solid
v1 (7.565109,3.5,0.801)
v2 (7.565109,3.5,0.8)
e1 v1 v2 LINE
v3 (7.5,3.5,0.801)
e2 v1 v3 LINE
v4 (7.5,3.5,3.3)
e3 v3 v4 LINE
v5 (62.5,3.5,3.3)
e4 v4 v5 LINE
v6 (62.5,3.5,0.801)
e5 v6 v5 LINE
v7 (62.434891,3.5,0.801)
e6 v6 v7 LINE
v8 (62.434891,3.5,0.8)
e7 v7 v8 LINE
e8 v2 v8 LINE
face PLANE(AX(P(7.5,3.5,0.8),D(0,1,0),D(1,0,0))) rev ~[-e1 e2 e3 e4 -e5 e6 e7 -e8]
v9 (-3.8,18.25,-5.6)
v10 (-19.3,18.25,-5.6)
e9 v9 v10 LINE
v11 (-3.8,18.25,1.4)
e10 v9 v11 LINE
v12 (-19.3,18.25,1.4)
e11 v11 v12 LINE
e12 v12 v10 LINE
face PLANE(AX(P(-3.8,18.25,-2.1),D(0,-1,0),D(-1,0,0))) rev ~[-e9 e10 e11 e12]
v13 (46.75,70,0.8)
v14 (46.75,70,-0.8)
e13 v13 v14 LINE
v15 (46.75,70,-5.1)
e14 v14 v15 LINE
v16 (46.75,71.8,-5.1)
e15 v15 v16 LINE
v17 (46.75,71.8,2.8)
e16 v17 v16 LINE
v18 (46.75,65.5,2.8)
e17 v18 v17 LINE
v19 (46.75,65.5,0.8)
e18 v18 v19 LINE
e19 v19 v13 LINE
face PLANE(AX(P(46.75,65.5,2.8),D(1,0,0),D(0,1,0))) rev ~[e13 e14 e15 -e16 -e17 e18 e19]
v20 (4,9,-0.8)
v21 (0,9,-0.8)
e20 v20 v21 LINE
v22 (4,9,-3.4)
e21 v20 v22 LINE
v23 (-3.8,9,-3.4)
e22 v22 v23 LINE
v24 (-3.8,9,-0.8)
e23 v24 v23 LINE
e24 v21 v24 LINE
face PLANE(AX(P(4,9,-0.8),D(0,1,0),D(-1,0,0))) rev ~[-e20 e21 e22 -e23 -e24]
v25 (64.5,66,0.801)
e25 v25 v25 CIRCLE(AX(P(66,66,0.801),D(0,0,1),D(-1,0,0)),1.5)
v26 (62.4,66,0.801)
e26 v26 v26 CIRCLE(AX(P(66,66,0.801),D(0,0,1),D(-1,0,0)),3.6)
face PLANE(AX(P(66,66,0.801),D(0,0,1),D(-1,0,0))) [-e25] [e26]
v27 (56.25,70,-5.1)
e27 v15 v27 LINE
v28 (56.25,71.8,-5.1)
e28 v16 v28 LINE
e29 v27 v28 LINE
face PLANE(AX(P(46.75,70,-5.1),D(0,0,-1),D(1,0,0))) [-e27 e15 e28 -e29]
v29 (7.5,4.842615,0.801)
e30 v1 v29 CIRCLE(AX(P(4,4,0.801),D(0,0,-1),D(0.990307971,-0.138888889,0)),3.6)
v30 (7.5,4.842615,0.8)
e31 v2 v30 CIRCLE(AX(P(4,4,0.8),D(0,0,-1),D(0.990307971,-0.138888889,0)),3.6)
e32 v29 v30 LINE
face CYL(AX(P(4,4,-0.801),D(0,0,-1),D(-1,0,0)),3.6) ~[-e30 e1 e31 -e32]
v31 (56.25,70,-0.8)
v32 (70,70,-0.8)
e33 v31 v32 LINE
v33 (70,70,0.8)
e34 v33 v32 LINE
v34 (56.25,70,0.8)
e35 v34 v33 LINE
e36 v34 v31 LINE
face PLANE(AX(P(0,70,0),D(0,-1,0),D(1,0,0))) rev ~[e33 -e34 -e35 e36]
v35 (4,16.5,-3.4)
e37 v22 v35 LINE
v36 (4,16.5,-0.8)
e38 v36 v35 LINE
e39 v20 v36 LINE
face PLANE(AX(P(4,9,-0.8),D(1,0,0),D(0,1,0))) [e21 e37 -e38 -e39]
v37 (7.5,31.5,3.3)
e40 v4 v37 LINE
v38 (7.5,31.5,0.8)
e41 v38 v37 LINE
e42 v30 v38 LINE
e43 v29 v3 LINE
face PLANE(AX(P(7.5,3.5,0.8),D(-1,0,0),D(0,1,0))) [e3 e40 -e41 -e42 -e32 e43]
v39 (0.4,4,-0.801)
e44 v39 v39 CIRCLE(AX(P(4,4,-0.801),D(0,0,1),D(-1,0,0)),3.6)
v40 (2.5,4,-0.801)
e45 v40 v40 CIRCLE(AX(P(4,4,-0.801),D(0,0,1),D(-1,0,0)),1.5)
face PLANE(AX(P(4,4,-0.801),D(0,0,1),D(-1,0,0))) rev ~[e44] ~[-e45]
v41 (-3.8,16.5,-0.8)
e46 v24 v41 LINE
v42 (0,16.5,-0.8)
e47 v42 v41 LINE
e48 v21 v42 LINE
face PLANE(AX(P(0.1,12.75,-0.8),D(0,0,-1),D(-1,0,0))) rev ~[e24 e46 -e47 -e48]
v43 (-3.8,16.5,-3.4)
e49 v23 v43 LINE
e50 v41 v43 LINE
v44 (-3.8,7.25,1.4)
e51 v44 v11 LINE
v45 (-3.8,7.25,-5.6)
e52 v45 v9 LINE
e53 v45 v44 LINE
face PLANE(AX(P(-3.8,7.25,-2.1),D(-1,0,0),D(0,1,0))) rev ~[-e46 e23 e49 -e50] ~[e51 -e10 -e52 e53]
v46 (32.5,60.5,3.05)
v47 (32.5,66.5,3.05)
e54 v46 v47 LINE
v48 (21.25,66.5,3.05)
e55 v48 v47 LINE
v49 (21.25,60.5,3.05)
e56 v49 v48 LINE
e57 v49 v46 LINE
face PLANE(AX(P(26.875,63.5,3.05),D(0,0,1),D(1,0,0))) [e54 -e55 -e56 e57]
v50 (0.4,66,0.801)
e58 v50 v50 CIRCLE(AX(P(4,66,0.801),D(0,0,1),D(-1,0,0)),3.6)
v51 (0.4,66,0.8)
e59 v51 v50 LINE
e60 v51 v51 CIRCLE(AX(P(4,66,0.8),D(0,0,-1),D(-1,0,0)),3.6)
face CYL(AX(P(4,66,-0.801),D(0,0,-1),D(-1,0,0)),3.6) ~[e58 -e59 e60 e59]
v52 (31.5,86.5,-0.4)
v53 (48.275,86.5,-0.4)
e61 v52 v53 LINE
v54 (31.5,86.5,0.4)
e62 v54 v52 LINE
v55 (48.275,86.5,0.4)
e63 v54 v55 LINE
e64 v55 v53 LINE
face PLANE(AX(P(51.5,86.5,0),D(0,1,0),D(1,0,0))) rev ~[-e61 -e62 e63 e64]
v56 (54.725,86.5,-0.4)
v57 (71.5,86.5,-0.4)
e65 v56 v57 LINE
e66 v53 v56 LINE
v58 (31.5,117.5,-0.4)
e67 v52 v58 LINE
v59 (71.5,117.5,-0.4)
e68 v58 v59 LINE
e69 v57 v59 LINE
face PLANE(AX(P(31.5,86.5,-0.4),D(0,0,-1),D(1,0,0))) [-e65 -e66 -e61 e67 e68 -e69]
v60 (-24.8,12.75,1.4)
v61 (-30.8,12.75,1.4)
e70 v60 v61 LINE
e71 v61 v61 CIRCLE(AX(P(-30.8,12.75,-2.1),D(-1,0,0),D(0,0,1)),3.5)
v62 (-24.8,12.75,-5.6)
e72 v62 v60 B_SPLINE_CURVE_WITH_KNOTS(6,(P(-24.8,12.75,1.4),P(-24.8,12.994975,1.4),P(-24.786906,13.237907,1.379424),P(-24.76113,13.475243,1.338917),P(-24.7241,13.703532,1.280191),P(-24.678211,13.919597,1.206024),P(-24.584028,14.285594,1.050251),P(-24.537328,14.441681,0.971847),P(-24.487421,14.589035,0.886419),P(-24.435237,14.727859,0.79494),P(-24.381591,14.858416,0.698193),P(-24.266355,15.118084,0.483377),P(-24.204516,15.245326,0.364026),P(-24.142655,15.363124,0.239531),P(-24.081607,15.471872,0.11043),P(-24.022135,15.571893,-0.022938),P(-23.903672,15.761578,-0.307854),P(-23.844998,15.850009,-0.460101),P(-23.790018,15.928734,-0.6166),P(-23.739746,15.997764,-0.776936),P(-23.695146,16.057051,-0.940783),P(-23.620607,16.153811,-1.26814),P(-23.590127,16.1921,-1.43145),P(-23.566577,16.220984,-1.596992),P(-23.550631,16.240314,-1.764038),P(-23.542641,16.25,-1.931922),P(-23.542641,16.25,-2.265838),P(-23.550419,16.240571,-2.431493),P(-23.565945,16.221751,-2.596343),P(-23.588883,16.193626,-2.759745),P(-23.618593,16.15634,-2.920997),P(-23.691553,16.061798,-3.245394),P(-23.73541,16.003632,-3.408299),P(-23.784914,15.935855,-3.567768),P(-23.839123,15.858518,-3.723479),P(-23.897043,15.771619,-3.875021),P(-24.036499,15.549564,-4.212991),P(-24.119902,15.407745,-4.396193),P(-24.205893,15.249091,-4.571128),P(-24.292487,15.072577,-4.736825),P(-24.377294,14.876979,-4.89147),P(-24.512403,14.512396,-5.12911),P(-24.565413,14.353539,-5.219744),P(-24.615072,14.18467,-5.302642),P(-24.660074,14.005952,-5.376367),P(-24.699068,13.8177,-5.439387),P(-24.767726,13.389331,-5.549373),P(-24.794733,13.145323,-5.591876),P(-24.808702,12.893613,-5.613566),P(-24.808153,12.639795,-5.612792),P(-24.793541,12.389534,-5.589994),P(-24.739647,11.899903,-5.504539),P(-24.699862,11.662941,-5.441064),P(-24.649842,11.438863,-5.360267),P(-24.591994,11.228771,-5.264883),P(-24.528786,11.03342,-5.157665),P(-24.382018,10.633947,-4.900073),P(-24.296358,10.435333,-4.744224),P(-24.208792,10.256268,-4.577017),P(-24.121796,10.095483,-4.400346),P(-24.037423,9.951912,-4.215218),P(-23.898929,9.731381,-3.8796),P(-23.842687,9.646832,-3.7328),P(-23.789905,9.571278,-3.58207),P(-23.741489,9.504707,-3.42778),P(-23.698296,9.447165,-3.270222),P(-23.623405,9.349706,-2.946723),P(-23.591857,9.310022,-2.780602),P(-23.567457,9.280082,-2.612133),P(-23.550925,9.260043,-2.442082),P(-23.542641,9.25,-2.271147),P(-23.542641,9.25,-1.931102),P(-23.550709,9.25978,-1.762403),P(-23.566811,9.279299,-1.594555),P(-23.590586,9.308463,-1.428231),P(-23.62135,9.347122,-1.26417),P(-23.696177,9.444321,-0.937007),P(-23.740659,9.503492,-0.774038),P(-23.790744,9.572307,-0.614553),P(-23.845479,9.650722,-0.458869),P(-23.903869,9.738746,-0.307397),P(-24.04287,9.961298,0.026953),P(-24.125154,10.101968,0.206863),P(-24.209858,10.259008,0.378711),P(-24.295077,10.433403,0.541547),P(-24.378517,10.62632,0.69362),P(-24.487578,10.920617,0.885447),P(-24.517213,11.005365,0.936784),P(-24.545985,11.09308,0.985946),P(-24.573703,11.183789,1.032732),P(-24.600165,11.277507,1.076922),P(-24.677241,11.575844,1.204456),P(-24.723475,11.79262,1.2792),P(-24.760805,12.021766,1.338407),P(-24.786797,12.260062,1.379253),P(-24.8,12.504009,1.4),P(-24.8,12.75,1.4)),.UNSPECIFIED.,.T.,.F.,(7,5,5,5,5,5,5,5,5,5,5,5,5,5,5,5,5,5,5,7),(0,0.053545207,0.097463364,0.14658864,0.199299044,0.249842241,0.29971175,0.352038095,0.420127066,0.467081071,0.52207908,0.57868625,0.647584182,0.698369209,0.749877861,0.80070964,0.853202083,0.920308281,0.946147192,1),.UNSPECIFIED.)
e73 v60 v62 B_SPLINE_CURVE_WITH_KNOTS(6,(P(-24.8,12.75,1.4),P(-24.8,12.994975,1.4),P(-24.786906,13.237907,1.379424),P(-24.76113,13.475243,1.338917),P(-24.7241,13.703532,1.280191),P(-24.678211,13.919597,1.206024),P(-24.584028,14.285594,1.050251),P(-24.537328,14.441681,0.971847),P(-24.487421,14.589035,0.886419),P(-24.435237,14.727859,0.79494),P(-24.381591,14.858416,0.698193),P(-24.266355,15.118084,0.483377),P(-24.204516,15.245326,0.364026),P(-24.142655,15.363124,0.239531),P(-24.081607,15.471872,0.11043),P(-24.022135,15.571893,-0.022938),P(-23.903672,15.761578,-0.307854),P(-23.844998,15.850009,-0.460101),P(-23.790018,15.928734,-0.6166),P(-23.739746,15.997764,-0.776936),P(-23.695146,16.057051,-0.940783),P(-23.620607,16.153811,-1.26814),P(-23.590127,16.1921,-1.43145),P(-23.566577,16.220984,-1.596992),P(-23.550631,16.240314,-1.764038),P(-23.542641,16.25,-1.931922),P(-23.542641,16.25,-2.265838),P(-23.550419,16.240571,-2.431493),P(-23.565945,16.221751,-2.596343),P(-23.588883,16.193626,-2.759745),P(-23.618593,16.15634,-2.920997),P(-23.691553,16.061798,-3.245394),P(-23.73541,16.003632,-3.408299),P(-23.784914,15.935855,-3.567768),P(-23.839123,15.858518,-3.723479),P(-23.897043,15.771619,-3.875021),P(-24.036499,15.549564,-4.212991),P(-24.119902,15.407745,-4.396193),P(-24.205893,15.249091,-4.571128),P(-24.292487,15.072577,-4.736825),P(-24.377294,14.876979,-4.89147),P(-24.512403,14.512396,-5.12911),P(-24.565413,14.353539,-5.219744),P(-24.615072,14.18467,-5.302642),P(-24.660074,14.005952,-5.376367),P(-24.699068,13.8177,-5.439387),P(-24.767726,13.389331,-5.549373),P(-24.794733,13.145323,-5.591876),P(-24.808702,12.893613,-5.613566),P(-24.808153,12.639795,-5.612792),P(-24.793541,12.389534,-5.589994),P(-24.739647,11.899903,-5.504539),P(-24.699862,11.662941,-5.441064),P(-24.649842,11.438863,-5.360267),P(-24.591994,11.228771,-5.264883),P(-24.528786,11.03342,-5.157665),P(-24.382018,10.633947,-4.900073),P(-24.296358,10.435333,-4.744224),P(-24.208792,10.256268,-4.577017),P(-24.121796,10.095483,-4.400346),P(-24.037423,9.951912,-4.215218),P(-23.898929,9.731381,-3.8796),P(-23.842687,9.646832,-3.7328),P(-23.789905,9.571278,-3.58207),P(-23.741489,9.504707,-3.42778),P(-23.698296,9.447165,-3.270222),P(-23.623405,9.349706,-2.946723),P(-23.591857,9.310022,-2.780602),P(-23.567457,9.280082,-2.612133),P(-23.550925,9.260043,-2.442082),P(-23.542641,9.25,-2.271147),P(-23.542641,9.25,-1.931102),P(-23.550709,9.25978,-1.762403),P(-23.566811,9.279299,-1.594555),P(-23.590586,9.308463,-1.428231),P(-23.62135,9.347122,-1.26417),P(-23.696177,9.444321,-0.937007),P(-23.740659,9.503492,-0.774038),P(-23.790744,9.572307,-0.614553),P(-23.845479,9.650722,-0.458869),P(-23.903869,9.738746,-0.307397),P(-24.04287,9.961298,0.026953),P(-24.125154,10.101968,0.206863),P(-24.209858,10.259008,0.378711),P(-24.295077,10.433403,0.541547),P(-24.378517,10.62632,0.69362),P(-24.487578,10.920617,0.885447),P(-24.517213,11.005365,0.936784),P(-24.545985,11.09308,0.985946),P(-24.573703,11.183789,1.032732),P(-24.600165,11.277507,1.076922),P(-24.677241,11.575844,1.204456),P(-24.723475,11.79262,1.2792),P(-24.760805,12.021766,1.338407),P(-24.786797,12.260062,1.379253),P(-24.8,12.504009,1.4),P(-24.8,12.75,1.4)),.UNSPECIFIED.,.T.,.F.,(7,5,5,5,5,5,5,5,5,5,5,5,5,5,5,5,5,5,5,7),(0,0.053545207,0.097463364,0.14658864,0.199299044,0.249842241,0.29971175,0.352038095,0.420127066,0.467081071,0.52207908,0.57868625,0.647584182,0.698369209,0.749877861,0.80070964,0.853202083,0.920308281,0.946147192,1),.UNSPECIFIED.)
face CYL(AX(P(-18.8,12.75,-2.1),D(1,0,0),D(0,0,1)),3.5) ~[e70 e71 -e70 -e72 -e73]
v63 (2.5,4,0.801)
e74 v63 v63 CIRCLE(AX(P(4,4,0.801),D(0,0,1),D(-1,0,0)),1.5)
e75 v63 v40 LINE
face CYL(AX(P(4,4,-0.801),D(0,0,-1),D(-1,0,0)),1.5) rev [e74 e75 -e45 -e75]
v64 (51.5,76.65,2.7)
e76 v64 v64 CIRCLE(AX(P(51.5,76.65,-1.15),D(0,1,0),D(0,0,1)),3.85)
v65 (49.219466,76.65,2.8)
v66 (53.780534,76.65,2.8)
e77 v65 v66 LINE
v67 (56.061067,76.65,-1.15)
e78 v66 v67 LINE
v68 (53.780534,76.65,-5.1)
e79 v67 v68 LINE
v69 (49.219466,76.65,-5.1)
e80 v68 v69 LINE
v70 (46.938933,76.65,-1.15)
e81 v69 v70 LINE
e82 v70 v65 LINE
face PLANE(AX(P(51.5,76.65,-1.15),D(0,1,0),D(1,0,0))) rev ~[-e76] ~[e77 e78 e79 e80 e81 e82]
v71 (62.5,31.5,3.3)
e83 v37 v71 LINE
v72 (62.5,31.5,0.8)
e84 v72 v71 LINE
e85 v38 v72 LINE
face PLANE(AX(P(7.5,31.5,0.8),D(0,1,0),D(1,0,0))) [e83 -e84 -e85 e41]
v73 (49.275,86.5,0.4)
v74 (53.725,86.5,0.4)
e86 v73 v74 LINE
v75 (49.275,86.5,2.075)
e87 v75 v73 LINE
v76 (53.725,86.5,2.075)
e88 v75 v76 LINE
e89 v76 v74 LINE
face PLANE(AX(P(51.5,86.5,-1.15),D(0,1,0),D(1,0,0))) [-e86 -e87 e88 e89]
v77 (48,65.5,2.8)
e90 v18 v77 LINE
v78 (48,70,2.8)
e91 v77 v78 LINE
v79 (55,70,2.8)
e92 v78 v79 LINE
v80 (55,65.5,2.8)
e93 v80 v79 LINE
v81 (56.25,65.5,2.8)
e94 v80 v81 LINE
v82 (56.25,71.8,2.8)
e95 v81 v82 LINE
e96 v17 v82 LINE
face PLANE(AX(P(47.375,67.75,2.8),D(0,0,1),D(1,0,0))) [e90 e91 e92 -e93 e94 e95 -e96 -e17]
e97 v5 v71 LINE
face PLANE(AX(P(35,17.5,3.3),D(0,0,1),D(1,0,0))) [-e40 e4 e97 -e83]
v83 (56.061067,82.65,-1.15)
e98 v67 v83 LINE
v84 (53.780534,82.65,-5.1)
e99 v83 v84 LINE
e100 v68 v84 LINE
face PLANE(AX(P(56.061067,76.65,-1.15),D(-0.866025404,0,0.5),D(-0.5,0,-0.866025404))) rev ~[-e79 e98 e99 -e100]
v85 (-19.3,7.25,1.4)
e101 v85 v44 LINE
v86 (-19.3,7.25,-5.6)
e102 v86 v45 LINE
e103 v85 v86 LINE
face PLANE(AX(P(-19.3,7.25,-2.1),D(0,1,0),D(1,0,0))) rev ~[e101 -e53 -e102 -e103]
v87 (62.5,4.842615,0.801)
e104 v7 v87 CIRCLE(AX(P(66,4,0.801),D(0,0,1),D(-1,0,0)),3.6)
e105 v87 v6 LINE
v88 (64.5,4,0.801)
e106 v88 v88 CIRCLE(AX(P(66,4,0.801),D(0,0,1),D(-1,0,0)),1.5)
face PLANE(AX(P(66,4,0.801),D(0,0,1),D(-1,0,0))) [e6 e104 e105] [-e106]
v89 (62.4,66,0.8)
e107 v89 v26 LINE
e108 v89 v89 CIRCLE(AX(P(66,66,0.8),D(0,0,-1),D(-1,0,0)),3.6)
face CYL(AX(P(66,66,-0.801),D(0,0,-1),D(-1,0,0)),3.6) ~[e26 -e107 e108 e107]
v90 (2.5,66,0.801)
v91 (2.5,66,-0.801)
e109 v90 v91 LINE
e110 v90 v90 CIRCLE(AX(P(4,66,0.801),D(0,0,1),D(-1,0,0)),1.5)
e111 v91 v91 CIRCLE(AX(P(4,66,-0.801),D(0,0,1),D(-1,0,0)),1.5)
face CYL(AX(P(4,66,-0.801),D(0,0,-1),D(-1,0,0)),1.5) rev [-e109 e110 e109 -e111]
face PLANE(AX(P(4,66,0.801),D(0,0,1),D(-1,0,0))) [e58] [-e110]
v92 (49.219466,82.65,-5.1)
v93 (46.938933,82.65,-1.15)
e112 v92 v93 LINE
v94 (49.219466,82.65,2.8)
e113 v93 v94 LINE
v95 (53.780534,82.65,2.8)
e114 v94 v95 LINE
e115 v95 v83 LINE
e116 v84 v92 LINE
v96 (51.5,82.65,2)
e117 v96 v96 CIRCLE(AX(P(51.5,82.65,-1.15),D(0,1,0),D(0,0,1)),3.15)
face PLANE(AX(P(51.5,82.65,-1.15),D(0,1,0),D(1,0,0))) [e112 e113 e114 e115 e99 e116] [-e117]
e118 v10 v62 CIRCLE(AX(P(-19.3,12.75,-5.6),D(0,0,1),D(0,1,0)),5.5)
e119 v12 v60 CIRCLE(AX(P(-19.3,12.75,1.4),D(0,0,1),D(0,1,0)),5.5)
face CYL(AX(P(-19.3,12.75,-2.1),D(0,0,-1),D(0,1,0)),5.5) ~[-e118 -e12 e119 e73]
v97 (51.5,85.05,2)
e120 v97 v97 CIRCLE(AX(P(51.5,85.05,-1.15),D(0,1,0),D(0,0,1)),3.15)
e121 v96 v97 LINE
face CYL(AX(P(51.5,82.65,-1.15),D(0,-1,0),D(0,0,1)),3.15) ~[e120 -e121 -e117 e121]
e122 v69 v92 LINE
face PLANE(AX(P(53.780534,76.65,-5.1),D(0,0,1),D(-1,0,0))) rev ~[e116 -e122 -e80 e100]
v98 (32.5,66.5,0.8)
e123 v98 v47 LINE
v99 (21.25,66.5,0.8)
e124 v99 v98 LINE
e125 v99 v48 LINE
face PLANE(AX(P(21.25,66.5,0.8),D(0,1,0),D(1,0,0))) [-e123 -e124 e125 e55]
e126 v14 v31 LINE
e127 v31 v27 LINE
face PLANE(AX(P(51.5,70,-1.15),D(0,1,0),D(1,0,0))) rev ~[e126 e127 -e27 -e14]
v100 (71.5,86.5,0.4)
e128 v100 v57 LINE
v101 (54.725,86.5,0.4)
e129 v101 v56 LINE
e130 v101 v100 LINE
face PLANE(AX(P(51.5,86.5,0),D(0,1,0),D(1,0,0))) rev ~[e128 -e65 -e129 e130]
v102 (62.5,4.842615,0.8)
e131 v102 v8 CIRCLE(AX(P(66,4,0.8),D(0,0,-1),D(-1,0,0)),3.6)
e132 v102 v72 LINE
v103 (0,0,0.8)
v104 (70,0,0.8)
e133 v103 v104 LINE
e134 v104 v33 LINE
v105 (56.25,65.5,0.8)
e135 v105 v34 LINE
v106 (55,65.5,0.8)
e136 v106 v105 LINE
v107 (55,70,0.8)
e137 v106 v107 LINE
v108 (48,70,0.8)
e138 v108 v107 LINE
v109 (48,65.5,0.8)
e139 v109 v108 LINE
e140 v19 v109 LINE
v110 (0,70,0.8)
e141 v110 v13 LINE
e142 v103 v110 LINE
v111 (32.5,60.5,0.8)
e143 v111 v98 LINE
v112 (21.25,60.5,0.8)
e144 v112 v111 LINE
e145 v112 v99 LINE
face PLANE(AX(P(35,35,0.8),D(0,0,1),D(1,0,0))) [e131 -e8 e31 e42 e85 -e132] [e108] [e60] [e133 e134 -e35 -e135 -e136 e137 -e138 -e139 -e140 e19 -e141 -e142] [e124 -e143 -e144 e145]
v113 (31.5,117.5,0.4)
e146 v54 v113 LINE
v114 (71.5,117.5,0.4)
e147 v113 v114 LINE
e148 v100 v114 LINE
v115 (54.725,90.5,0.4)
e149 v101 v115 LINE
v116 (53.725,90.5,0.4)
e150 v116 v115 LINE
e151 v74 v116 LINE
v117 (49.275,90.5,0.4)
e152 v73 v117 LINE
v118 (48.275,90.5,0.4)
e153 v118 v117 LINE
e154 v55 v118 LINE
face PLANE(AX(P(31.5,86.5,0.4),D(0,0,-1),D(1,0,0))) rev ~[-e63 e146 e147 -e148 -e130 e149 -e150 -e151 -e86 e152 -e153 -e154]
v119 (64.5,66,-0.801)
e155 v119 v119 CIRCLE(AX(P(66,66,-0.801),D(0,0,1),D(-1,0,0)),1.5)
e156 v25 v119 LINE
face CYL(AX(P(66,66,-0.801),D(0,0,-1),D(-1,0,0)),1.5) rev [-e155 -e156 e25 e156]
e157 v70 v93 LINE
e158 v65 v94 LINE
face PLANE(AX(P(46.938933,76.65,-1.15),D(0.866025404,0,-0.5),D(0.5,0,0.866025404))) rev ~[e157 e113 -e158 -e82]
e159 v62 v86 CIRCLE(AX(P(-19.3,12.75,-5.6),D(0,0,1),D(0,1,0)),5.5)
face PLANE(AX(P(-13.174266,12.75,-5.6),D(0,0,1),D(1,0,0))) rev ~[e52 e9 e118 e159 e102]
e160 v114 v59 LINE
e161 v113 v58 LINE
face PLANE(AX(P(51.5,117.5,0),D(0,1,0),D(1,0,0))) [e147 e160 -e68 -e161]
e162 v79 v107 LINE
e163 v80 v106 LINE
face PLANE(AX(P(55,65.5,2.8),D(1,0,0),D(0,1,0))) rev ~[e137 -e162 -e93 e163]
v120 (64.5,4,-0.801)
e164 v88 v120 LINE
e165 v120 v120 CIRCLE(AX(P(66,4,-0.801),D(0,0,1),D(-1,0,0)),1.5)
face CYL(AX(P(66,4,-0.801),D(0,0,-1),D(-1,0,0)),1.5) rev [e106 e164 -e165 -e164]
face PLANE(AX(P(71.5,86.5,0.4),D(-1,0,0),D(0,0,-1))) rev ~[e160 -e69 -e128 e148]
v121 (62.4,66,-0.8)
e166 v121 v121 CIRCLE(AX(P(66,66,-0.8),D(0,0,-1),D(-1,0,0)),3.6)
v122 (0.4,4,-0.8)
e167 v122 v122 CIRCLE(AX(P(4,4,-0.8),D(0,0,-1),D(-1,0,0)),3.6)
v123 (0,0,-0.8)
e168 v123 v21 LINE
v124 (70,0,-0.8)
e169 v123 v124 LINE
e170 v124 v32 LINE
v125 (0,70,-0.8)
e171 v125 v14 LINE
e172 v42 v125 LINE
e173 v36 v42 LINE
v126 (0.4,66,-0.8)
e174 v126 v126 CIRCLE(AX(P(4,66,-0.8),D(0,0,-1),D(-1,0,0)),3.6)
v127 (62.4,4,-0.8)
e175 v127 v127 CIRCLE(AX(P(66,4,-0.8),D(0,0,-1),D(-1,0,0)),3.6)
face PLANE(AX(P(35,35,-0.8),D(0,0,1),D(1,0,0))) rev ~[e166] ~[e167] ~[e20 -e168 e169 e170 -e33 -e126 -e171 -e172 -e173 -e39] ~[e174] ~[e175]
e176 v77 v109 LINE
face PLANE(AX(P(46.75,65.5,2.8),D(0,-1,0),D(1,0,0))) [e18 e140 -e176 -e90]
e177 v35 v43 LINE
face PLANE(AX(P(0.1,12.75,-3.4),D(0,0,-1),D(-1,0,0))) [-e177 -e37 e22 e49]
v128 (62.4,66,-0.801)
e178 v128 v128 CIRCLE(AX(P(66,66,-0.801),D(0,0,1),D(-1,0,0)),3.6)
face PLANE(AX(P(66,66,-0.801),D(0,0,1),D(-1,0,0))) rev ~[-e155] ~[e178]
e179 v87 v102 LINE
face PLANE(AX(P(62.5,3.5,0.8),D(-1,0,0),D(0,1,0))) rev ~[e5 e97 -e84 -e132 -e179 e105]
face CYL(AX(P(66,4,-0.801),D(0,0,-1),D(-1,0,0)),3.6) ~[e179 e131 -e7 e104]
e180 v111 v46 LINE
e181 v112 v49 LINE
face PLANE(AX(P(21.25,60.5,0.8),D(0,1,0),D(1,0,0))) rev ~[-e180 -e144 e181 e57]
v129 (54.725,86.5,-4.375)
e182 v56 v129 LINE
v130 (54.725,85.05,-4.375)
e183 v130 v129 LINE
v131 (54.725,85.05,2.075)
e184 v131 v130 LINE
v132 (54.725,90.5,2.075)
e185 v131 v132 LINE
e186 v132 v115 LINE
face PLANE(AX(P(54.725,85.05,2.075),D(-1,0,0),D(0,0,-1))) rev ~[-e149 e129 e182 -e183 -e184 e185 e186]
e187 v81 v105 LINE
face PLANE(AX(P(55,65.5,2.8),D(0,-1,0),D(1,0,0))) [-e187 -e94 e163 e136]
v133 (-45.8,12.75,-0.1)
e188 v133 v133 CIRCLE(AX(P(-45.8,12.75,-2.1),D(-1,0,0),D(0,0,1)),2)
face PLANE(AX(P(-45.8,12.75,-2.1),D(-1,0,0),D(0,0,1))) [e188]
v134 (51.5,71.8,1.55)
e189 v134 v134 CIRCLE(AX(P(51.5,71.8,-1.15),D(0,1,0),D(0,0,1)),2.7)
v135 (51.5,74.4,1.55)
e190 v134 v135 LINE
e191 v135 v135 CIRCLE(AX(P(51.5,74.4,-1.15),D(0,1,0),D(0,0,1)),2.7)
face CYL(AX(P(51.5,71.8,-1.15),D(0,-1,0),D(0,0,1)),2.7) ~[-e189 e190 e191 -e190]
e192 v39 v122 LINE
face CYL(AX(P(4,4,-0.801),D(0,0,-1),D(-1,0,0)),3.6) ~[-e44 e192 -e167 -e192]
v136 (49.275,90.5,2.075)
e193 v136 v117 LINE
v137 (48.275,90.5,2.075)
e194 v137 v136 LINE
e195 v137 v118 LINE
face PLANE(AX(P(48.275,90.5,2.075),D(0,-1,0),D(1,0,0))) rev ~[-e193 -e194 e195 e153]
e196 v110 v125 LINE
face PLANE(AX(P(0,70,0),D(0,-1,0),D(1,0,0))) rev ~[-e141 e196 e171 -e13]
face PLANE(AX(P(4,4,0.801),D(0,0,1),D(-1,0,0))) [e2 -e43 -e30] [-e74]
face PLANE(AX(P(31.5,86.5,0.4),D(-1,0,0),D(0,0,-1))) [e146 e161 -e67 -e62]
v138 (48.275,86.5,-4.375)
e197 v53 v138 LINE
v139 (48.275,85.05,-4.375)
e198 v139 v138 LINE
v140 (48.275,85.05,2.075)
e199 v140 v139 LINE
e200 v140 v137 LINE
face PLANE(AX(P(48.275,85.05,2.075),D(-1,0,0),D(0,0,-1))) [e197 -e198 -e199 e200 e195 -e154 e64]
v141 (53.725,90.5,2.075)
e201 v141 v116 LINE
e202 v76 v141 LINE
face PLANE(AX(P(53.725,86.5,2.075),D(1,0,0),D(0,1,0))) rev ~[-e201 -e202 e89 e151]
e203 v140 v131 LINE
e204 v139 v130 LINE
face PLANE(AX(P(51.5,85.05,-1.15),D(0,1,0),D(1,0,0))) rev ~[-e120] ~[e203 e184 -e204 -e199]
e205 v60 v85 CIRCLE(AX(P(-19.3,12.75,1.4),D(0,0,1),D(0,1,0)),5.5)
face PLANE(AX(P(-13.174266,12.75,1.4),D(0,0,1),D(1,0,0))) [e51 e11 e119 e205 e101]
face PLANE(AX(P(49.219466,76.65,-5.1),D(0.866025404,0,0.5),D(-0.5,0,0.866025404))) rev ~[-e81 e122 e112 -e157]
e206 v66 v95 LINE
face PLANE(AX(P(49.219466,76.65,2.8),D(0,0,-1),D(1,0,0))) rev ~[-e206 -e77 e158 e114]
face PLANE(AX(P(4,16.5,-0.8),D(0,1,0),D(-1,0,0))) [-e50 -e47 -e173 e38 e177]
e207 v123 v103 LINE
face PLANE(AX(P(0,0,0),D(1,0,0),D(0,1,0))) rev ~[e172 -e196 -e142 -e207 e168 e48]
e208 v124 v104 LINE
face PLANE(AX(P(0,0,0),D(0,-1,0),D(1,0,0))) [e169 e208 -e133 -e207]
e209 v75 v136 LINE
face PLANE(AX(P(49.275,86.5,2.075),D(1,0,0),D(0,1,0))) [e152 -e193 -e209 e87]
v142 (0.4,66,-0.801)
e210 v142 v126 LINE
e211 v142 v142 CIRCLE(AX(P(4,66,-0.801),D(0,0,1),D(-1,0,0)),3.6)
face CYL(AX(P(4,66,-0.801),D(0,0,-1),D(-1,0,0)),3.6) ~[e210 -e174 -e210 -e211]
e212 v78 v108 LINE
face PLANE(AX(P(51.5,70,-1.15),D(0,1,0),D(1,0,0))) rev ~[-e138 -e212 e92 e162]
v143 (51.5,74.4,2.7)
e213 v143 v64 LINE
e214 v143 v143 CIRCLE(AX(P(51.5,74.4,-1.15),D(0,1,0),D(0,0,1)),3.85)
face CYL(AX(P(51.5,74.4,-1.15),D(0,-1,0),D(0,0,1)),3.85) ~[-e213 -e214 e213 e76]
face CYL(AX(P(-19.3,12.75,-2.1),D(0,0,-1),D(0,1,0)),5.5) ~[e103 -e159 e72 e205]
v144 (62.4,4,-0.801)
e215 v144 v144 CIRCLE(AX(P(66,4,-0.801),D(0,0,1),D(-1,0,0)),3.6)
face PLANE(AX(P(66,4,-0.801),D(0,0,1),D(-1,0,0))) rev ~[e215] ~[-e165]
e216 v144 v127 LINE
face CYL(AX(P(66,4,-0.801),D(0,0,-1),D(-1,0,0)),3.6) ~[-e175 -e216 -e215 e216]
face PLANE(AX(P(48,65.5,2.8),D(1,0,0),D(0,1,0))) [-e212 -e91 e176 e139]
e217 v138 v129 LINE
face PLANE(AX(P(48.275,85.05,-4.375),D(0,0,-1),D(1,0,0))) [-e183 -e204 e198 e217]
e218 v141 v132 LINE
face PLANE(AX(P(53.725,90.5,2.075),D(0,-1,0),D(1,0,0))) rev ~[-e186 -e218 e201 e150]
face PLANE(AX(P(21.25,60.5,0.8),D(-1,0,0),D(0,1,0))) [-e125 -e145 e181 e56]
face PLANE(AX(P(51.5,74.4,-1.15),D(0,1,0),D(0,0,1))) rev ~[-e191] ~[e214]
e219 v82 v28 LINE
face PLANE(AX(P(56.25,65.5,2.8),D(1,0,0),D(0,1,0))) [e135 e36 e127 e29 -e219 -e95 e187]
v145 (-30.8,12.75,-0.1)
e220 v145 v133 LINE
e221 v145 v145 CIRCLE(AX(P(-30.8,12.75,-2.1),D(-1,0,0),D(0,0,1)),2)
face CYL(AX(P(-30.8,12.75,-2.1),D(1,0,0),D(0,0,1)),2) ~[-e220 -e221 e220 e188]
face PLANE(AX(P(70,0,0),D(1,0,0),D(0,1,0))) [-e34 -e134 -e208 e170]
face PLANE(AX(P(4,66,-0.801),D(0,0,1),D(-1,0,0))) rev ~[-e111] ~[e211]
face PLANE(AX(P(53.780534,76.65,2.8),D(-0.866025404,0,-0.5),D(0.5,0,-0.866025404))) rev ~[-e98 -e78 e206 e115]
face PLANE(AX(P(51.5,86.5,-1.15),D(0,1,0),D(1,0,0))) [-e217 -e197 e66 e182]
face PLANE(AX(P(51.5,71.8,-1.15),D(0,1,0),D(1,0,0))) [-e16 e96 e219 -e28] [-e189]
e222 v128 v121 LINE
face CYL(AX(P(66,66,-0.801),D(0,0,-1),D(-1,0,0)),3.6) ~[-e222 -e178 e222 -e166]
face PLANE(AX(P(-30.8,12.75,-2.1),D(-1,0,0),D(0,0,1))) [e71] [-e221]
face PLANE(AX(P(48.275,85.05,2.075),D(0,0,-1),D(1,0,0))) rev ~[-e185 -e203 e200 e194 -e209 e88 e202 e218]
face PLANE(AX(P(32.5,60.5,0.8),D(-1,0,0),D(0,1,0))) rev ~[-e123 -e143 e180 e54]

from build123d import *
from build123d.topology import SkipClean

# Parameters (mm, degrees)
SKETCH1_W                     = 70
SKETCH1_H                     = 70
GREEN_PCB_DEPTH               = 0.8
SKETCH2_R                     = 1.5
MOUNTING_HOLES_DEPTH          = 100.007878474
SCREW_GROUNDS_DEPTH           = 0.801
SCREW_GROUNDS_DEPTH_BACK      = 0.801
SKETCH3_R                     = 3.6
SKETCH3_R_2                   = 1.5
SKETCH4_W                     = 9.5
SKETCH4_H                     = 7.9
ANTENNA1_DEPTH                = 1.8
SKETCH10_W                    = 1.25
SKETCH10_H                    = 4.5
ANTENNA2_DEPTH                = 2
SKETCH5_R                     = 2.7
ANTENNA3_DEPTH                = 2.6
SKETCH6_R                     = 3.85
ANTENNA4_DEPTH                = 2.25
ANTENNA5_DEPTH                = 6
SKETCH8_R                     = 3.15
ANTENNA6_DEPTH                = 2.4
SKETCH9_W                     = 6.45
SKETCH9_H                     = 6.45
ANTENNA7_DEPTH                = 1.45
SKETCH11_W                    = 40
SKETCH11_H                    = 0.8
ANTENNA_PCB_DEPTH             = 31
SKETCH19_W                    = 1
SKETCH19_H                    = 4
ANTENNA8_DEPTH                = 1.675
SKETCH12_W                    = 55
SKETCH12_H                    = 28
LCD_DEPTH                     = 2.5
SKETCH13_W                    = 11.25
SKETCH13_H                    = 6
OPTION_SWITCH_DEPTH           = 2.25
SKETCH14_W                    = 7.8
SKETCH14_H                    = 7.5
USB_PORT_DEPTH                = 2.6
USB_BODY_DEPTH                = 3.5
USB_TENSION_RELIEF_DEPTH      = 6
USB_TENSION_RELIEF_DEPTH_BACK = 6
SKETCH17_R                    = 3.5
SKETCH18_R                    = 2
USB_CORD_DEPTH                = 15


with BuildPart() as part:
    # Sketch1 → Green PCB (new, symmetric)
    with BuildSketch(Plane.XY):
        with Locations((35, 35)):
            Rectangle(SKETCH1_W, SKETCH1_H)
    extrude(amount=GREEN_PCB_DEPTH, both=True)

    # Sketch2 → Mounting Holes (cut, through all)
    with BuildSketch(Plane.XY.offset(0.8)):
        with Locations((4, 4)):
            Circle(SKETCH2_R)
        with Locations((66, 4)):
            Circle(SKETCH2_R)
        with Locations((66, 66)):
            Circle(SKETCH2_R)
        with Locations((4, 66)):
            Circle(SKETCH2_R)
    extrude(amount=-MOUNTING_HOLES_DEPTH, mode=Mode.SUBTRACT)

    # Sketch3 → Screw Grounds (add, two sides: drawn at the far end of the back side and taken through both)
    # profile 1 of 4: a face of its own
    with BuildSketch(Plane.XY.offset(-SCREW_GROUNDS_DEPTH_BACK)):
        with Locations(Location((4, 66, 0), (0, 0, 180))):
            Circle(SKETCH3_R)
        with Locations(Location((4, 66, 0), (0, 0, 180))):
            Circle(SKETCH3_R_2, mode=Mode.SUBTRACT)
    # profile 2 of 4: a face of its own
    with BuildSketch(Plane.XY.offset(-SCREW_GROUNDS_DEPTH_BACK)):
        with Locations(Location((66, 66, 0), (0, 0, 180))):
            Circle(SKETCH3_R)
        with Locations(Location((66, 66, 0), (0, 0, 180))):
            Circle(SKETCH3_R_2, mode=Mode.SUBTRACT)
    # profile 3 of 4: a face of its own
    with BuildSketch(Plane.XY.offset(-SCREW_GROUNDS_DEPTH_BACK)):
        with Locations(Location((66, 4, 0), (0, 0, 180))):
            Circle(SKETCH3_R)
        with Locations(Location((66, 4, 0), (0, 0, 180))):
            Circle(SKETCH3_R_2, mode=Mode.SUBTRACT)
    # profile 4 of 4: a face of its own
    with BuildSketch(Plane.XY.offset(-SCREW_GROUNDS_DEPTH_BACK)):
        with Locations(Location((4, 4, 0), (0, 0, 180))):
            Circle(SKETCH3_R)
        with Locations(Location((4, 4, 0), (0, 0, 180))):
            Circle(SKETCH3_R_2, mode=Mode.SUBTRACT)
    extrude(amount=SCREW_GROUNDS_DEPTH + SCREW_GROUNDS_DEPTH_BACK)

    # Sketch4 → Antenna1 (add)
    with BuildSketch(Plane(origin=(0, 70, 0), x_dir=(1, 0, 0), z_dir=(0, 1, 0))):
        with Locations((51.5, 1.15)):
            Rectangle(SKETCH4_W, SKETCH4_H)
    extrude(amount=ANTENNA1_DEPTH)

    # Sketch10 → Antenna2 (add)
    with BuildSketch(Plane.XY.offset(2.8)):
        with Locations((47.375, 67.75)):
            Rectangle(SKETCH10_W, SKETCH10_H)
        with Locations((55.625, 67.75)):
            Rectangle(SKETCH10_W, SKETCH10_H)
    extrude(amount=-ANTENNA2_DEPTH)

    # Sketch5 → Antenna3 (add)
    with BuildSketch(Plane(origin=(0, 71.8, 0), x_dir=(1, 0, 0), z_dir=(0, 1, 0))):
        with Locations(Location((51.5, 1.15, 0), (0, 0, 270))):
            Circle(SKETCH5_R)
    extrude(amount=ANTENNA3_DEPTH)

    # Sketch6 → Antenna4 (add)
    with SkipClean():  # the faces are left unmerged after this step: merging them gives an invalid solid
        with BuildSketch(Plane(origin=(0, 74.4, 0), x_dir=(1, 0, 0), z_dir=(0, 1, 0))):
            with Locations(Location((51.5, 1.15, 0), (0, 0, 270))):
                Circle(SKETCH6_R)
        extrude(amount=ANTENNA4_DEPTH)

    # Sketch7 → Antenna5 (add)
    with SkipClean():  # the faces are left unmerged after this step: merging them gives an invalid solid
        with BuildSketch(Plane(origin=(0, 76.65, 0), x_dir=(1, 0, 0), z_dir=(0, 1, 0))):
            Polygon((49.219466437, -2.8), (53.780533563, -2.8), (56.061067127, 1.15), (53.780533563, 5.1), (49.219466437, 5.1), (46.938932873, 1.15), align=None)
        extrude(amount=ANTENNA5_DEPTH)

    # Sketch8 → Antenna6 (add)
    with SkipClean():  # the faces are left unmerged after this step: merging them gives an invalid solid
        with BuildSketch(Plane(origin=(0, 82.65, 0), x_dir=(1, 0, 0), z_dir=(0, 1, 0))):
            with Locations(Location((51.5, 1.15, 0), (0, 0, 270))):
                Circle(SKETCH8_R)
        extrude(amount=ANTENNA6_DEPTH)

    # Sketch9 → Antenna7 (add)
    with SkipClean():  # the faces are left unmerged after this step: merging them gives an invalid solid
        with BuildSketch(Plane(origin=(0, 85.05, 0), x_dir=(1, 0, 0), z_dir=(0, 1, 0))):
            with Locations((51.5, 1.15)):
                Rectangle(SKETCH9_W, SKETCH9_H)
        extrude(amount=ANTENNA7_DEPTH)

    # Sketch11 → Antenna PCB (add)
    with SkipClean():  # the faces are left unmerged after this step: merging them gives an invalid solid
        with BuildSketch(Plane(origin=(0, 86.5, 0), x_dir=(1, 0, 0), z_dir=(0, 1, 0))):
            with Locations((51.5, 0)):
                Rectangle(SKETCH11_W, SKETCH11_H)
        extrude(amount=ANTENNA_PCB_DEPTH)

    # Sketch19 → Antenna8 (add)
    with SkipClean():  # the faces are left unmerged after this step: merging them gives an invalid solid
        with BuildSketch(Plane.XY.offset(2.075)):
            with Locations((48.775, 88.5)):
                Rectangle(SKETCH19_W, SKETCH19_H)
            with Locations((54.225, 88.5)):
                Rectangle(SKETCH19_W, SKETCH19_H)
        extrude(amount=-ANTENNA8_DEPTH)

    # Sketch12 → LCD (add)
    with SkipClean():  # the faces are left unmerged after this step: merging them gives an invalid solid
        with BuildSketch(Plane.XY.offset(0.8)):
            with Locations((35, 17.5)):
                Rectangle(SKETCH12_W, SKETCH12_H)
        extrude(amount=LCD_DEPTH)

    # Sketch13 → Option Switch (add)
    with SkipClean():  # the faces are left unmerged after this step: merging them gives an invalid solid
        with BuildSketch(Plane.XY.offset(0.8)):
            with Locations((26.875, 63.5)):
                Rectangle(SKETCH13_W, SKETCH13_H)
        extrude(amount=OPTION_SWITCH_DEPTH)

    # Sketch14 → USB Port (add)
    with SkipClean():  # the faces are left unmerged after this step: merging them gives an invalid solid
        with BuildSketch(Plane(origin=(0, 0, -0.8), x_dir=(-1, 0, 0), z_dir=(0, 0, -1))):
            with Locations((-0.1, 12.75)):
                Rectangle(SKETCH14_W, SKETCH14_H)
        extrude(amount=USB_PORT_DEPTH)

    # Sketch16 → USB Body (add, symmetric)
    with BuildSketch(Plane(origin=(0, 0, -2.1), x_dir=(-1, 0, 0), z_dir=(0, 0, -1))):
        with BuildLine():
            Line((19.3, 7.25), (3.8, 7.25))
            Line((3.8, 7.25), (3.8, 18.25))
            Line((3.8, 18.25), (19.3, 18.25))
            ThreePointArc((19.3, 18.25), (24.8, 12.75), (19.3, 7.25))
        make_face()
    extrude(amount=USB_BODY_DEPTH, both=True)

    # Sketch17 → USB Tension Relief (add, two sides: drawn at the far end of the back side and taken through both)
    with BuildSketch(Plane.ZY.offset(24.8).offset(-USB_TENSION_RELIEF_DEPTH_BACK)):
        with Locations((-2.1, 12.75)):
            Circle(SKETCH17_R)
    extrude(amount=USB_TENSION_RELIEF_DEPTH + USB_TENSION_RELIEF_DEPTH_BACK)

    # Sketch18 → USB Cord (add)
    with BuildSketch(Plane.ZY.offset(30.8)):
        with Locations((-2.1, 12.75)):
            Circle(SKETCH18_R)
    extrude(amount=USB_CORD_DEPTH)


solid = part.part
